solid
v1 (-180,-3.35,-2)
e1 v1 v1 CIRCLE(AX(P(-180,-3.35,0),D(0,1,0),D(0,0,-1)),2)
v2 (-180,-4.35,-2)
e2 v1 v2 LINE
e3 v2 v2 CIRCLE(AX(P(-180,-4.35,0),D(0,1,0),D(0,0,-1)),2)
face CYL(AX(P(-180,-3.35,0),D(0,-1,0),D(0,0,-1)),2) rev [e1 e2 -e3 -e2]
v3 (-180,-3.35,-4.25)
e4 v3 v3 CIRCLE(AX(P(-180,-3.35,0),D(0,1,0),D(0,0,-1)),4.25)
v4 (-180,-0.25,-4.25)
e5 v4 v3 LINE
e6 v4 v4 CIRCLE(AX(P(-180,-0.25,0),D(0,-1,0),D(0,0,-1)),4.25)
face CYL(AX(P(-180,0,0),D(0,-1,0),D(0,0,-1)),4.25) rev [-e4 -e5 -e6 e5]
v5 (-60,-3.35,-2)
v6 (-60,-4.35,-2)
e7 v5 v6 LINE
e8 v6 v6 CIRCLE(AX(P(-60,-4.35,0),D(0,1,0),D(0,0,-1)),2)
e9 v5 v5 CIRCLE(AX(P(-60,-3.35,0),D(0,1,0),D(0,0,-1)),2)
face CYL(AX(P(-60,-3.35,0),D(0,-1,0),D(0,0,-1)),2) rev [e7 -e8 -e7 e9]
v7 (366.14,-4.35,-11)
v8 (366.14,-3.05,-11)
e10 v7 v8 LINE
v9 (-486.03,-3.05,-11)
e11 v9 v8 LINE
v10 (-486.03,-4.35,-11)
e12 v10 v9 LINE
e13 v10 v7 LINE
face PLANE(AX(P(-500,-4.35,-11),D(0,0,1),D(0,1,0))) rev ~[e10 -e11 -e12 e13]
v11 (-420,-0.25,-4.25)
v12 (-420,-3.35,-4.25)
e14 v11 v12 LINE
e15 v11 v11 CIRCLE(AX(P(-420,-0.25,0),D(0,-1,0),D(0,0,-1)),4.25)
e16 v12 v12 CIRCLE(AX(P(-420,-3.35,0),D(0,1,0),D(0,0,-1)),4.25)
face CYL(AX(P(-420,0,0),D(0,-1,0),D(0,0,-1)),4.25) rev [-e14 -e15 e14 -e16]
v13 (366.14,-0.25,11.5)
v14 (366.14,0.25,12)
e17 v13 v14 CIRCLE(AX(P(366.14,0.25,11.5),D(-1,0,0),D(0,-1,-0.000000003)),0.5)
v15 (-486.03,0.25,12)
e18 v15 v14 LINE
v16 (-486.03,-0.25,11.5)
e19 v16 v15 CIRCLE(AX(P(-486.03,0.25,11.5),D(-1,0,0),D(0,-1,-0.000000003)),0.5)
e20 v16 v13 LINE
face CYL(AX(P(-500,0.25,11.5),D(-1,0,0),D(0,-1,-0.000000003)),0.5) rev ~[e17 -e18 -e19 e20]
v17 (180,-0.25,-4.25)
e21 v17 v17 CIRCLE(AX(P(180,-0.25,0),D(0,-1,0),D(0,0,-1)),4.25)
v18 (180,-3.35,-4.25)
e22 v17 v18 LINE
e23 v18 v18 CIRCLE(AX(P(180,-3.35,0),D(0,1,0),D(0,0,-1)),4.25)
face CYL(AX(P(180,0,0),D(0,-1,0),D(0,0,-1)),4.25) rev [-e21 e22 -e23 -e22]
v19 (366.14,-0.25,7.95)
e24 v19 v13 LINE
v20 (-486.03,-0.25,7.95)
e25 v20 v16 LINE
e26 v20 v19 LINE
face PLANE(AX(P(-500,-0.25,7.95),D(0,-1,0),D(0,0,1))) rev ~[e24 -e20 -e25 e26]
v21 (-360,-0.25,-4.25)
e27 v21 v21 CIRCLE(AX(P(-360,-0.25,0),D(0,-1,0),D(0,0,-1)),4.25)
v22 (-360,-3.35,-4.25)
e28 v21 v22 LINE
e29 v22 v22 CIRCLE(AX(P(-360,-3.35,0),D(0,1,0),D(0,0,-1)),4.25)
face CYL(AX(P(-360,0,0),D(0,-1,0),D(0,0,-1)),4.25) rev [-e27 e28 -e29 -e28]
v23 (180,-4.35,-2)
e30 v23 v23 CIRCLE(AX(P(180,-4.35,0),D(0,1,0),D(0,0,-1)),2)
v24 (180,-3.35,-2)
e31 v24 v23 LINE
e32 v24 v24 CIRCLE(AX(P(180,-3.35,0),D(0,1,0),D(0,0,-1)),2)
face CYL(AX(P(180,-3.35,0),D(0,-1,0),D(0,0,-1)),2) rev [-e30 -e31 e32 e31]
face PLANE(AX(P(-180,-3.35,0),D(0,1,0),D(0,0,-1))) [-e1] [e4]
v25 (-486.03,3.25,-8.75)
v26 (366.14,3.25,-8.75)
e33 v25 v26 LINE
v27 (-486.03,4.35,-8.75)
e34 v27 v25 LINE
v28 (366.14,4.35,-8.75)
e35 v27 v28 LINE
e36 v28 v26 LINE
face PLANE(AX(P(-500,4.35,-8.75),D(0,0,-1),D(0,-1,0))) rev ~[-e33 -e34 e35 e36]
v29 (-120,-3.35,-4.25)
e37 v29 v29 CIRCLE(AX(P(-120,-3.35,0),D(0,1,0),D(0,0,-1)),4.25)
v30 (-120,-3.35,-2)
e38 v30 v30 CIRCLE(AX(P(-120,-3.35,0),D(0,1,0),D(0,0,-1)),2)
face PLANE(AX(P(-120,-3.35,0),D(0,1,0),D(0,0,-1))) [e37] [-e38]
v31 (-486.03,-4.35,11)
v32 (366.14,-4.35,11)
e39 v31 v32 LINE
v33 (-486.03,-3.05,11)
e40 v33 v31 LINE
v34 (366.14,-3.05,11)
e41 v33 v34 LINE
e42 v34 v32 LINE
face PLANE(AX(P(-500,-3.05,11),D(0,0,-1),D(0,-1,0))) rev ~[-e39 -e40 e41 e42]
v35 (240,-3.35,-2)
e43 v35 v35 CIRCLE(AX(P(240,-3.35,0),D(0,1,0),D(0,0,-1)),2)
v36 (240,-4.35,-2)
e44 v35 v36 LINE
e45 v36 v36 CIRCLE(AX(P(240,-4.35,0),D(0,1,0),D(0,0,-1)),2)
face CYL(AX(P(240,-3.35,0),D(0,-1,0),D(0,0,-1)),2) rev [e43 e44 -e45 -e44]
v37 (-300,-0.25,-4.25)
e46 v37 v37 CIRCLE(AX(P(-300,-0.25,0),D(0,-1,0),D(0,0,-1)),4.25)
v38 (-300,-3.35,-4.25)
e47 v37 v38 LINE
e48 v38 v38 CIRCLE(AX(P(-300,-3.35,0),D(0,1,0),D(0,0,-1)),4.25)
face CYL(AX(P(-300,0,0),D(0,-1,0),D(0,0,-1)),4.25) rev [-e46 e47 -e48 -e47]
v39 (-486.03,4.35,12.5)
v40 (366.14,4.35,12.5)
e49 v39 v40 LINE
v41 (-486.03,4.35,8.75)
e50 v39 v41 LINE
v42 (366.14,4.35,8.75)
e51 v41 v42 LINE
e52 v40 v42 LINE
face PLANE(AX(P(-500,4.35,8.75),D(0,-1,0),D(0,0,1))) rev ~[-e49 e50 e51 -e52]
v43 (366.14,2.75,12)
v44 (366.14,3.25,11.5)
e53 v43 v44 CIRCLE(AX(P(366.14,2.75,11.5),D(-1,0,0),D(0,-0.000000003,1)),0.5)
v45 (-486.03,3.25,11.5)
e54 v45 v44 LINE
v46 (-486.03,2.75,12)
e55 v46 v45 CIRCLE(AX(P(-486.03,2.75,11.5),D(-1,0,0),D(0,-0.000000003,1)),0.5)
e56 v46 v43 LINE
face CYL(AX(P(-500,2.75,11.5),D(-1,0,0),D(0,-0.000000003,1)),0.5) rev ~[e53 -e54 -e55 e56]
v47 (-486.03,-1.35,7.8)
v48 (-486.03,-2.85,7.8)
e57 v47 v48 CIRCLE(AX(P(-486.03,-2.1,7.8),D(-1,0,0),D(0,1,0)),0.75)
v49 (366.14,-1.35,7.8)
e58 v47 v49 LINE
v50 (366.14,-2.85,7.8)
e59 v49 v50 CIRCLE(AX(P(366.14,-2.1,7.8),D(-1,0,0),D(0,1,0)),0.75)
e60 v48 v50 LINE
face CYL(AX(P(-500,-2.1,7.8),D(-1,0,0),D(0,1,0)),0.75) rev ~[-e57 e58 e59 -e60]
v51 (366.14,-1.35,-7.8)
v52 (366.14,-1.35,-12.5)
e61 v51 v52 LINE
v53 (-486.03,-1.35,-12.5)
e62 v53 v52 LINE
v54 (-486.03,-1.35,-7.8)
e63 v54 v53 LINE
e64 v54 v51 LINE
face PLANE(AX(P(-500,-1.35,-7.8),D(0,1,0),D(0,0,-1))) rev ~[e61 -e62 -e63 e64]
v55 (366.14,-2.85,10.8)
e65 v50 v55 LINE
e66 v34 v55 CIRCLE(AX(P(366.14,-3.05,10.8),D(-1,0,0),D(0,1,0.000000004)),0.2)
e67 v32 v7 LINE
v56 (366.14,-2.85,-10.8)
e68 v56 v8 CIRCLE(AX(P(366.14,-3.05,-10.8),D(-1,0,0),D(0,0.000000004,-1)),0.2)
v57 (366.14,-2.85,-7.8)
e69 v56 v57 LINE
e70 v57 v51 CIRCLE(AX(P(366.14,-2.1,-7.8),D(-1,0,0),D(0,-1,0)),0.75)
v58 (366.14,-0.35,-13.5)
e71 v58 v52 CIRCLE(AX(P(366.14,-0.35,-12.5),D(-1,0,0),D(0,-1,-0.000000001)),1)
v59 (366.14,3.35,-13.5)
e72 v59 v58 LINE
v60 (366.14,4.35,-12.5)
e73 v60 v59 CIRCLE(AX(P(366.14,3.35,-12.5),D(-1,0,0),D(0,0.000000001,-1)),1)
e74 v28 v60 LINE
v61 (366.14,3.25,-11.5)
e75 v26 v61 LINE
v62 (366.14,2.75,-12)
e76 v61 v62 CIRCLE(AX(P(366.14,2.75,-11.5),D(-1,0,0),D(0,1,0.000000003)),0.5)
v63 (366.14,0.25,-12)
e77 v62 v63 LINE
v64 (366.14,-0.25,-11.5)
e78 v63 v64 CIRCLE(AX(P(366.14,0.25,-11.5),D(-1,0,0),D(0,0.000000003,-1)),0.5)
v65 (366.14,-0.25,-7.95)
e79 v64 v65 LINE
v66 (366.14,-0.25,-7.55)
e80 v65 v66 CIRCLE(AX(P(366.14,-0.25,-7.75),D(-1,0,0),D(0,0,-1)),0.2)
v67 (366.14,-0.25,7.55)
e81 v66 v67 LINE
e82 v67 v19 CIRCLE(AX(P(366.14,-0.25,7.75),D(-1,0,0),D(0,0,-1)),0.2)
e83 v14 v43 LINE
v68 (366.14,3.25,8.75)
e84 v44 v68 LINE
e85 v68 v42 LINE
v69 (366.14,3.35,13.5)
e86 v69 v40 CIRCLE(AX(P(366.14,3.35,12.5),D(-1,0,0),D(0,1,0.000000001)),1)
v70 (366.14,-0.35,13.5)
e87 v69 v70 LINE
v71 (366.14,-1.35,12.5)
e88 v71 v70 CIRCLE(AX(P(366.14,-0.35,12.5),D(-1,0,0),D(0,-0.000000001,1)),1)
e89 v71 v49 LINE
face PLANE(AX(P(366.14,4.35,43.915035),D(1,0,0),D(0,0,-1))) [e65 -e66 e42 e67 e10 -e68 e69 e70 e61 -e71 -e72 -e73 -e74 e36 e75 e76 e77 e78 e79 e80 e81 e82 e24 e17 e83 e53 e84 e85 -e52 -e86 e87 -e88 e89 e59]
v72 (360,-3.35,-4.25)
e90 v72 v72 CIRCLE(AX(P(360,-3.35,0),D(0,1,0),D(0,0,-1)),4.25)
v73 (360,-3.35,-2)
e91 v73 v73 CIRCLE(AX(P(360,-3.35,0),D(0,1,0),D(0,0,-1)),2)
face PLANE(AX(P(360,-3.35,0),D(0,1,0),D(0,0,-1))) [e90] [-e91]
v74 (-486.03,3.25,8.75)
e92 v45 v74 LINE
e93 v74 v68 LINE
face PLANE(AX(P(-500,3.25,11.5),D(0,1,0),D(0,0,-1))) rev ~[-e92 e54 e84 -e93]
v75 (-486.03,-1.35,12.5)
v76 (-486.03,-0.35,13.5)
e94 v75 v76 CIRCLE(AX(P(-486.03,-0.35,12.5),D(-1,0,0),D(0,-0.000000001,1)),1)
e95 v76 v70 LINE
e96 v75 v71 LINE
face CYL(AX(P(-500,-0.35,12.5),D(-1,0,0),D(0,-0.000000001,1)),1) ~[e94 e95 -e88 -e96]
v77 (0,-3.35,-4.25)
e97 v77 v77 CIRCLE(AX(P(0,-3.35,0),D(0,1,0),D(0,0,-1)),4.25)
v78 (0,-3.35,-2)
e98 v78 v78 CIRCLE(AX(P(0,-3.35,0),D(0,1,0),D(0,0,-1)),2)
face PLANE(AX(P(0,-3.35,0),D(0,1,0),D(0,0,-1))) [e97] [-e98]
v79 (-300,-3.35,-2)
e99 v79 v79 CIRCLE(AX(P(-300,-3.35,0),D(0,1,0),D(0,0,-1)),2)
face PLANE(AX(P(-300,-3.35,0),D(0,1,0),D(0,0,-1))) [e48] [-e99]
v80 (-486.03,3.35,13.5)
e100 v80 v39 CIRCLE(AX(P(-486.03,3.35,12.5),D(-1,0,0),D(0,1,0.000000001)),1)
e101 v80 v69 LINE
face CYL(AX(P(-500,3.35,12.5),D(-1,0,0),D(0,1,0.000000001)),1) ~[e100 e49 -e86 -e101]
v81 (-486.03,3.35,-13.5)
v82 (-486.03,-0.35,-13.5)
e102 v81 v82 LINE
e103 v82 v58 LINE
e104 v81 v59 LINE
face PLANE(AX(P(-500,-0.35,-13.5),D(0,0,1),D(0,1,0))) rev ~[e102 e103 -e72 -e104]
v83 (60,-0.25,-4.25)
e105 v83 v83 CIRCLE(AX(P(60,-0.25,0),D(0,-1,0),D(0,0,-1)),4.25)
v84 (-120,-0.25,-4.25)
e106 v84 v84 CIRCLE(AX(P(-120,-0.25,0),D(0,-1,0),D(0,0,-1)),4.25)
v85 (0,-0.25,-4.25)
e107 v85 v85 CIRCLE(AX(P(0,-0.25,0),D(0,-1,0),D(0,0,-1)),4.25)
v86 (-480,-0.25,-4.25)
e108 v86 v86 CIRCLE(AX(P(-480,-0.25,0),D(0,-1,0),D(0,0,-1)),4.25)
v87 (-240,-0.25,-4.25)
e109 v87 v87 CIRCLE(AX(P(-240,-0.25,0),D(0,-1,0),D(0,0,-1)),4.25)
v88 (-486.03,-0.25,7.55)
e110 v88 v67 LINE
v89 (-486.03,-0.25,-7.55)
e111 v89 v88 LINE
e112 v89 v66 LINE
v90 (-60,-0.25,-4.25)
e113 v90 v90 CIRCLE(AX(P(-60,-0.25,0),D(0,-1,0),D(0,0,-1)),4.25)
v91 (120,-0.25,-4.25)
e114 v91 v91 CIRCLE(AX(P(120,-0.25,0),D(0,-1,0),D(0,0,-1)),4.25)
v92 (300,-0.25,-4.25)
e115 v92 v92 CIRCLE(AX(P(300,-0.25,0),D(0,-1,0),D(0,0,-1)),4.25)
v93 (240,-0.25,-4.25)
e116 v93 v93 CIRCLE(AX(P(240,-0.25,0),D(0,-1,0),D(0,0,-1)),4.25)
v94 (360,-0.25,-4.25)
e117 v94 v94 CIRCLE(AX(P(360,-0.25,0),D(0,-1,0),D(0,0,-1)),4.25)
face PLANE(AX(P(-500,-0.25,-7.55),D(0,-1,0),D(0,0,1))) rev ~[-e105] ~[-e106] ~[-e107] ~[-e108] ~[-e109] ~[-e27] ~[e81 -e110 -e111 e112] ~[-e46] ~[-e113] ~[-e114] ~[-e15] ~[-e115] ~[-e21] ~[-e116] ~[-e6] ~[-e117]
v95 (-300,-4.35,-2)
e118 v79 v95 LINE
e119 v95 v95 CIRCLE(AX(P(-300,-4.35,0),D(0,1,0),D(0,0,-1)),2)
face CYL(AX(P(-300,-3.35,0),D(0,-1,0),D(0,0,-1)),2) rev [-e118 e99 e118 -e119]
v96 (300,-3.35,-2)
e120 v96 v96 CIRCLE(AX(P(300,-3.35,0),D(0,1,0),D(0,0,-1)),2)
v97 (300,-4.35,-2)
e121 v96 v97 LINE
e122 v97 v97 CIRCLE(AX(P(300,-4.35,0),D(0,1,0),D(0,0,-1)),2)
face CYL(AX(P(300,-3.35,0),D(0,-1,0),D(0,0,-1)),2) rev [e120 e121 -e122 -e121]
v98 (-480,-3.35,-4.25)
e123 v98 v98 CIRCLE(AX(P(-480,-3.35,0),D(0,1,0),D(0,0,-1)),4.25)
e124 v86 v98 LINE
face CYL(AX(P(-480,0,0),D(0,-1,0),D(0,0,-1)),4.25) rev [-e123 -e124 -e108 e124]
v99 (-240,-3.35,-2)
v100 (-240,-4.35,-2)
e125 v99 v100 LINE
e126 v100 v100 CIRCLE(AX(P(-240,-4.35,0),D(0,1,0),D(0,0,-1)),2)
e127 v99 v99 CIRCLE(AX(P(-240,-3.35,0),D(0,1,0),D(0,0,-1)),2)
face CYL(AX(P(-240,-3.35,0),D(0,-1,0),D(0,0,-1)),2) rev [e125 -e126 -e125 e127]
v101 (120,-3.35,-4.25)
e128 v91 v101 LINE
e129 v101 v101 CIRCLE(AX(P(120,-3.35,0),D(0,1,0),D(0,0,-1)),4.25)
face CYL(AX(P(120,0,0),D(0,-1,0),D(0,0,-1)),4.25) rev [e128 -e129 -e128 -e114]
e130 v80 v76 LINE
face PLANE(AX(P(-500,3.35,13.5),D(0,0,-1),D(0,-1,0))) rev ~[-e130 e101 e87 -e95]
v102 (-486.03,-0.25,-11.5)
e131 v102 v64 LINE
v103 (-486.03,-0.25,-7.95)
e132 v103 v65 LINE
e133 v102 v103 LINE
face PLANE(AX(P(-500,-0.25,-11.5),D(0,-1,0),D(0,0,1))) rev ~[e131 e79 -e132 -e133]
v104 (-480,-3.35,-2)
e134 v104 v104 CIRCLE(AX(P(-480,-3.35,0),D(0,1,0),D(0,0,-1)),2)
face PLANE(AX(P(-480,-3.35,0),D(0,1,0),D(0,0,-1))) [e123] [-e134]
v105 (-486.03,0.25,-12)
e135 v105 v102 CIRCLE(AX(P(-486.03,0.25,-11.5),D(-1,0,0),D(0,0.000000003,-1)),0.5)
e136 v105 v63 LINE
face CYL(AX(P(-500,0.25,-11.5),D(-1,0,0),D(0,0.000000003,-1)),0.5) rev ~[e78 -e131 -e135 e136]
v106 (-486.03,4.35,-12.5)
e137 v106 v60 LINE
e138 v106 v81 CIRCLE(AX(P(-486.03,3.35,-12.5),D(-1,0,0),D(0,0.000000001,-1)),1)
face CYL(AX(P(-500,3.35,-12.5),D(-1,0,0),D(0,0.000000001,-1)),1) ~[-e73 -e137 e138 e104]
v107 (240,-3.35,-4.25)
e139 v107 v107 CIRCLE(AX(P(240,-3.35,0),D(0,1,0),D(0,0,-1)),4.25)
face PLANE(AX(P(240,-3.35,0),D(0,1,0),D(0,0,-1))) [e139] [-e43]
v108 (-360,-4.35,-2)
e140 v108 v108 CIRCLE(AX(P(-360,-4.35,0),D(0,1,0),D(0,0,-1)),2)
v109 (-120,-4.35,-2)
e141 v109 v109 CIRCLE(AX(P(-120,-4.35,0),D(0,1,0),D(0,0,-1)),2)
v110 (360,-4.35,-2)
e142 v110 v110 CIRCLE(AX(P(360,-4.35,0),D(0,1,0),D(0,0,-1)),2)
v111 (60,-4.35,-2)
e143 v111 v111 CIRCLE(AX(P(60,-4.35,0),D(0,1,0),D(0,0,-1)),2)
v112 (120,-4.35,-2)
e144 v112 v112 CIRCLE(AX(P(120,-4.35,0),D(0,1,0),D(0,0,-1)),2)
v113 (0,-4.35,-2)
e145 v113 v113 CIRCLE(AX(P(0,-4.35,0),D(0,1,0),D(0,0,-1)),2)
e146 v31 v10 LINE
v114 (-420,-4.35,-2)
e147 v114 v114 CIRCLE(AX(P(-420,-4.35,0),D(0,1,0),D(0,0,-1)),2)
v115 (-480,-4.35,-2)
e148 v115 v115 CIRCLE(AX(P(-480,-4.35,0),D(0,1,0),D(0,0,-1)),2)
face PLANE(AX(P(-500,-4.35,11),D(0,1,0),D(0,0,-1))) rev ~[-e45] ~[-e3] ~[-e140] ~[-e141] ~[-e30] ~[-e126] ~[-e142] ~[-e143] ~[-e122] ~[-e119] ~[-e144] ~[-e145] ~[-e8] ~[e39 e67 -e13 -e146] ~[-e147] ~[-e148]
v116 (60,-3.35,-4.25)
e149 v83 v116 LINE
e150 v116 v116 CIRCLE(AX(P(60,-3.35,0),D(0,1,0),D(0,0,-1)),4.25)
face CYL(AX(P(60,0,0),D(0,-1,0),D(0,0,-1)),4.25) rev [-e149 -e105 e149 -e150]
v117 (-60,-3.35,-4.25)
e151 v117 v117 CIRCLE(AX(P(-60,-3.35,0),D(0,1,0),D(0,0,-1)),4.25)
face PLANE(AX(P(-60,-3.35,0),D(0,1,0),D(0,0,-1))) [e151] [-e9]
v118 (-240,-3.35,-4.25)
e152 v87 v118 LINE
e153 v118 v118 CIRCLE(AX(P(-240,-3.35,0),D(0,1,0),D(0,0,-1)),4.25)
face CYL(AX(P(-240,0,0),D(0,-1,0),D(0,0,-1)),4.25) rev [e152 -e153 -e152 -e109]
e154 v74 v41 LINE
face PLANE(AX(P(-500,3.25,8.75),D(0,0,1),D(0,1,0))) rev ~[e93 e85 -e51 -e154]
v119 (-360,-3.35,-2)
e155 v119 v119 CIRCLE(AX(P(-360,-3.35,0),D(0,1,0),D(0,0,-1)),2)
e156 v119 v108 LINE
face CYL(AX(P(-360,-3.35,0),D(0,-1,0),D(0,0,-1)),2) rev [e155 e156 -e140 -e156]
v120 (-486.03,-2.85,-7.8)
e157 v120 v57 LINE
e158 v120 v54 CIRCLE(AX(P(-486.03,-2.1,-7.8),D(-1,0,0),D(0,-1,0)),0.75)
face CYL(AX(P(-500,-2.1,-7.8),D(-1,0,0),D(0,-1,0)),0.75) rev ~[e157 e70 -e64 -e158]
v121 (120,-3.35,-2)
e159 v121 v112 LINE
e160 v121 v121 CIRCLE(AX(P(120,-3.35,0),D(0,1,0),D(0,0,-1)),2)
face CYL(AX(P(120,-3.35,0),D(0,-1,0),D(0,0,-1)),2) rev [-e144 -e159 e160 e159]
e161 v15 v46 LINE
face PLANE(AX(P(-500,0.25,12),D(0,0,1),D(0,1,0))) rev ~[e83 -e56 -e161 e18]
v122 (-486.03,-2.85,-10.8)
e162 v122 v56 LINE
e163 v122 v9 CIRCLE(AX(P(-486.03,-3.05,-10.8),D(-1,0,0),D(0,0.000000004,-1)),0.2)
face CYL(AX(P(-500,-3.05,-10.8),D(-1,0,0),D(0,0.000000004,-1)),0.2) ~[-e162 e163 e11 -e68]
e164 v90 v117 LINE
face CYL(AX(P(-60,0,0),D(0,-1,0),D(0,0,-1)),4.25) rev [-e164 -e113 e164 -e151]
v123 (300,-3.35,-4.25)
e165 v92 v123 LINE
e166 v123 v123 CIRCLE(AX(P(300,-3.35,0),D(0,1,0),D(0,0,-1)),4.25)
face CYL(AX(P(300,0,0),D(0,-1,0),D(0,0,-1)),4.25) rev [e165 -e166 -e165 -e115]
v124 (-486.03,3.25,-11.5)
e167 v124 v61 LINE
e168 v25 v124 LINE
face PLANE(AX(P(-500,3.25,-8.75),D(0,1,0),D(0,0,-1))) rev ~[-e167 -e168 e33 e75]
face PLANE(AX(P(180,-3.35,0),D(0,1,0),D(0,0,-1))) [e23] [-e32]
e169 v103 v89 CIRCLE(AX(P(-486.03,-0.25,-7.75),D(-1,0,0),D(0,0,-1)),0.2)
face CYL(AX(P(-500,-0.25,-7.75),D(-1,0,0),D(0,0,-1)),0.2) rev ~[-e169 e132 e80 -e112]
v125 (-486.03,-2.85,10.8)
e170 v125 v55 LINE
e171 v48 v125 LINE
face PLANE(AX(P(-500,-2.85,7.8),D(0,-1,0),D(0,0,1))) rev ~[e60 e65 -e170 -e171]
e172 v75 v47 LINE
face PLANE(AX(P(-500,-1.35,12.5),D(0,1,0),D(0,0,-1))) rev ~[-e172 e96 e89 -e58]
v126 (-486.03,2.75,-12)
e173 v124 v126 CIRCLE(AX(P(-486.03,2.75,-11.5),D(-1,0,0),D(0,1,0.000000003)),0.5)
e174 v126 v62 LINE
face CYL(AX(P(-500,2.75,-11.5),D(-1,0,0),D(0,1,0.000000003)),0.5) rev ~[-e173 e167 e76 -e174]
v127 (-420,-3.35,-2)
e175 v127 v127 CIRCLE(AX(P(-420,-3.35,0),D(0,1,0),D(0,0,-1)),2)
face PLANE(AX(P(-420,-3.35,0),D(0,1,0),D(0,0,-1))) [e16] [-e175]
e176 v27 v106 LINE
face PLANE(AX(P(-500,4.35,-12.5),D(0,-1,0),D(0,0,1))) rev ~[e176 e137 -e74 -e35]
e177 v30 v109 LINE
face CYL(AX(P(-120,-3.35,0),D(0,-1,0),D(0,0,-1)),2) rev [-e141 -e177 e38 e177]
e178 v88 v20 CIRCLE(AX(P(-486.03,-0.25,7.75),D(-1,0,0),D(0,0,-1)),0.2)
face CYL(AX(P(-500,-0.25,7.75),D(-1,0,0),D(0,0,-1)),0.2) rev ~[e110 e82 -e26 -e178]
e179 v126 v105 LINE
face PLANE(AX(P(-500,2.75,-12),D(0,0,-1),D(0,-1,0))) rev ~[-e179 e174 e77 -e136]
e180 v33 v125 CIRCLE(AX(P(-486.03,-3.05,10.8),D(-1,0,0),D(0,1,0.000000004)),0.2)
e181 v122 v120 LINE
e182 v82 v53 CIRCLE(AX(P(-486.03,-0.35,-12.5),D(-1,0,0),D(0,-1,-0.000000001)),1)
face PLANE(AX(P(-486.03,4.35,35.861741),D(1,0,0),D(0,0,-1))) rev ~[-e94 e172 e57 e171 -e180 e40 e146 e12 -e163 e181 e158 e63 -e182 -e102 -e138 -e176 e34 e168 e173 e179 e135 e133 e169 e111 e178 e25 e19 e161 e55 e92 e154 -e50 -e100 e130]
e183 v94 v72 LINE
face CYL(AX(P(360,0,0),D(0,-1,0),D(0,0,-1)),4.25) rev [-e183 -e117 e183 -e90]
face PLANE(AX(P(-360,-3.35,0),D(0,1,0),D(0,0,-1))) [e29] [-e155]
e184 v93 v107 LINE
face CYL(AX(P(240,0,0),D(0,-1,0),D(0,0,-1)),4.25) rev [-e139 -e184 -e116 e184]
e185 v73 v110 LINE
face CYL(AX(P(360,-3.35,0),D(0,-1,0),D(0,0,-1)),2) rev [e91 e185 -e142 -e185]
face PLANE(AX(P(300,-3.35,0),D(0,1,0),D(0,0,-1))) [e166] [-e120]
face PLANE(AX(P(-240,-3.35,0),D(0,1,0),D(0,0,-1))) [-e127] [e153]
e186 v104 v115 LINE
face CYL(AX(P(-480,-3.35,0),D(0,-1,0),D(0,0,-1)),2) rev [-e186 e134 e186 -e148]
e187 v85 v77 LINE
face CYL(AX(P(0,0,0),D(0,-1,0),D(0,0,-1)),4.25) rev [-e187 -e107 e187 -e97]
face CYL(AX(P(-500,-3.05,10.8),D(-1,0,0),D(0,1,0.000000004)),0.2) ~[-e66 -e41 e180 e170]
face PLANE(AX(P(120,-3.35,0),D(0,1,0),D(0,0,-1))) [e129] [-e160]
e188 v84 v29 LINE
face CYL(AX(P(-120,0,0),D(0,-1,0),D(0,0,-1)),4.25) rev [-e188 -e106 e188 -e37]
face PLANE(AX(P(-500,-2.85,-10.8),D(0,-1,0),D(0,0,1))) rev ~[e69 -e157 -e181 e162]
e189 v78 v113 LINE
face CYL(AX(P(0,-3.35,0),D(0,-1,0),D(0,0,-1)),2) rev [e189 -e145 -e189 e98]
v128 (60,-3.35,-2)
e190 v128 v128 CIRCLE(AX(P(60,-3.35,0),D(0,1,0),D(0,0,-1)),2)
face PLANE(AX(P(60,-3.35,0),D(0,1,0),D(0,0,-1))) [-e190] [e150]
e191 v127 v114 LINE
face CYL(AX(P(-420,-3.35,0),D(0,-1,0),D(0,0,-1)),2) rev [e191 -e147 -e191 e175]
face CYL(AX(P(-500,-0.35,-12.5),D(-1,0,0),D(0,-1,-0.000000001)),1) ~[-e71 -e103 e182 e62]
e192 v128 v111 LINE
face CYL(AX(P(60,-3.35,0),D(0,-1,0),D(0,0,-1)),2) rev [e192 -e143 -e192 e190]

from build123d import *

# Parameters (mm, degrees)
BOSS_EXTRUDE1_DEPTH      = 500
BOSS_EXTRUDE1_DEPTH_BACK = 500
LPATTERN1_COUNT          = 17
LPATTERN1_PITCH          = 60
SKETCH6_W                = 123.7
SKETCH6_H                = 3.75
CUT_EXTRUDE1_DEPTH       = 501.257873501
SKETCH7_W                = 10.16
SKETCH7_H                = 57.415034805
CUT_EXTRUDE2_DEPTH       = 501.257873501
SKETCH8_W                = 13.97
SKETCH8_H                = 49.36174071
CUT_EXTRUDE3_DEPTH       = 501.257873501


with BuildPart() as part:
    # Sketch5 → Boss-Extrude1 (new, two sides: drawn at the far end of the back side and taken through both)
    with BuildSketch(Plane(origin=(0, 0, 0), x_dir=(0, 0, -1), z_dir=(1, 0, 0)).offset(-BOSS_EXTRUDE1_DEPTH_BACK)):
        with BuildLine():
            Line((8.75, 4.35), (8.75, 3.25))
            Line((8.75, 3.25), (11.5, 3.25))
            ThreePointArc((11.5, 3.25), (11.853553391, 3.103553391), (12, 2.75))
            Line((12, 2.75), (12, 0.25))
            ThreePointArc((12, 0.25), (11.853553391, -0.103553391), (11.5, -0.25))
            Line((11.5, -0.25), (7.95, -0.25))
            ThreePointArc((7.95, -0.25), (7.75, -0.45), (7.55, -0.25))
            Line((7.55, -0.25), (-7.55, -0.25))
            ThreePointArc((-7.55, -0.25), (-7.75, -0.45), (-7.95, -0.25))
            Line((-7.95, -0.25), (-11.5, -0.25))
            ThreePointArc((-11.5, -0.25), (-11.853553391, -0.103553391), (-12, 0.25))
            Line((-12, 0.25), (-12, 2.75))
            ThreePointArc((-12, 2.75), (-11.853553391, 3.103553391), (-11.5, 3.25))
            Line((-11.5, 3.25), (-8.75, 3.25))
            Line((-8.75, 3.25), (-8.75, 4.35))
            Line((-8.75, 4.35), (-12.5, 4.35))
            ThreePointArc((-12.5, 4.35), (-13.207106781, 4.057106781), (-13.5, 3.35))
            Line((-13.5, 3.35), (-13.5, -0.35))
            ThreePointArc((-13.5, -0.35), (-13.207106781, -1.057106781), (-12.5, -1.35))
            Line((-12.5, -1.35), (-7.8, -1.35))
            ThreePointArc((-7.8, -1.35), (-7.05, -2.1), (-7.8, -2.85))
            Line((-7.8, -2.85), (-10.8, -2.85))
            ThreePointArc((-10.8, -2.85), (-10.941421356, -2.908578644), (-11, -3.05))
            Line((-11, -3.05), (-11, -4.35))
            Line((-11, -4.35), (11, -4.35))
            Line((11, -4.35), (11, -3.05))
            ThreePointArc((11, -3.05), (10.941421356, -2.908578644), (10.8, -2.85))
            Line((10.8, -2.85), (7.8, -2.85))
            ThreePointArc((7.8, -2.85), (7.05, -2.1), (7.8, -1.35))
            Line((7.8, -1.35), (12.5, -1.35))
            ThreePointArc((12.5, -1.35), (13.207106781, -1.057106781), (13.5, -0.35))
            Line((13.5, -0.35), (13.5, 3.35))
            ThreePointArc((13.5, 3.35), (13.207106781, 4.057106781), (12.5, 4.35))
            Line((12.5, 4.35), (8.75, 4.35))
        make_face()
    extrude(amount=BOSS_EXTRUDE1_DEPTH + BOSS_EXTRUDE1_DEPTH_BACK)

    # Sketch3 → Cut-Revolve1 (revolve, cut)
    with BuildSketch(Plane.XY, mode=Mode.PRIVATE) as cut_revolve1_sk:
        Polygon((-484.25, 0), (-484.25, -3.35), (-482, -3.35), (-482, -4.35), (-480, -4.35), (-480, 0), align=None)
    cut_revolve1 = revolve(cut_revolve1_sk.sketch.rotate(Axis((-480, -4.35, 0), (0, 1, 0)), 270), axis=Axis((-480, -4.35, 0), (0, 1, 0)), mode=Mode.SUBTRACT)

    # LPattern1: Cut-Revolve1 ×17
    with Locations(*[(i * LPATTERN1_PITCH, 0, 0) for i in range(1, LPATTERN1_COUNT)]):
        add(cut_revolve1, mode=Mode.SUBTRACT)

    # Sketch6 → Cut-Extrude1 (cut, through all)
    with BuildSketch(Plane(origin=(0, 4.35, 0), x_dir=(1, 0, 0), z_dir=(0, 1, 0))):
        Polygon((376.3, 112.746397819), (376.3, 13.5), (376.3, 12.5), (500, 12.5), (500, 8.75), (376.3, 8.75), (376.3, -272.64081393), (559.245488979, -272.64081393), (559.245488979, 112.746397819), align=None)
        with Locations((438.15, 10.625)):
            Rectangle(SKETCH6_W, SKETCH6_H)
    extrude(amount=-CUT_EXTRUDE1_DEPTH, mode=Mode.SUBTRACT)

    # Sketch7 → Cut-Extrude2 (cut, through all)
    with BuildSketch(Plane(origin=(0, 4.35, 0), x_dir=(1, 0, 0), z_dir=(0, 1, 0))):
        with Locations((371.22, -15.207517403)):
            Rectangle(SKETCH7_W, SKETCH7_H)
    extrude(amount=-CUT_EXTRUDE2_DEPTH, mode=Mode.SUBTRACT)

    # Sketch8 → Cut-Extrude3 (cut, through all)
    with BuildSketch(Plane(origin=(0, 4.35, 0), x_dir=(1, 0, 0), z_dir=(0, 1, 0))):
        with Locations((-493.015, -11.180870355)):
            Rectangle(SKETCH8_W, SKETCH8_H)
    extrude(amount=-CUT_EXTRUDE3_DEPTH, mode=Mode.SUBTRACT)


solid = part.part
